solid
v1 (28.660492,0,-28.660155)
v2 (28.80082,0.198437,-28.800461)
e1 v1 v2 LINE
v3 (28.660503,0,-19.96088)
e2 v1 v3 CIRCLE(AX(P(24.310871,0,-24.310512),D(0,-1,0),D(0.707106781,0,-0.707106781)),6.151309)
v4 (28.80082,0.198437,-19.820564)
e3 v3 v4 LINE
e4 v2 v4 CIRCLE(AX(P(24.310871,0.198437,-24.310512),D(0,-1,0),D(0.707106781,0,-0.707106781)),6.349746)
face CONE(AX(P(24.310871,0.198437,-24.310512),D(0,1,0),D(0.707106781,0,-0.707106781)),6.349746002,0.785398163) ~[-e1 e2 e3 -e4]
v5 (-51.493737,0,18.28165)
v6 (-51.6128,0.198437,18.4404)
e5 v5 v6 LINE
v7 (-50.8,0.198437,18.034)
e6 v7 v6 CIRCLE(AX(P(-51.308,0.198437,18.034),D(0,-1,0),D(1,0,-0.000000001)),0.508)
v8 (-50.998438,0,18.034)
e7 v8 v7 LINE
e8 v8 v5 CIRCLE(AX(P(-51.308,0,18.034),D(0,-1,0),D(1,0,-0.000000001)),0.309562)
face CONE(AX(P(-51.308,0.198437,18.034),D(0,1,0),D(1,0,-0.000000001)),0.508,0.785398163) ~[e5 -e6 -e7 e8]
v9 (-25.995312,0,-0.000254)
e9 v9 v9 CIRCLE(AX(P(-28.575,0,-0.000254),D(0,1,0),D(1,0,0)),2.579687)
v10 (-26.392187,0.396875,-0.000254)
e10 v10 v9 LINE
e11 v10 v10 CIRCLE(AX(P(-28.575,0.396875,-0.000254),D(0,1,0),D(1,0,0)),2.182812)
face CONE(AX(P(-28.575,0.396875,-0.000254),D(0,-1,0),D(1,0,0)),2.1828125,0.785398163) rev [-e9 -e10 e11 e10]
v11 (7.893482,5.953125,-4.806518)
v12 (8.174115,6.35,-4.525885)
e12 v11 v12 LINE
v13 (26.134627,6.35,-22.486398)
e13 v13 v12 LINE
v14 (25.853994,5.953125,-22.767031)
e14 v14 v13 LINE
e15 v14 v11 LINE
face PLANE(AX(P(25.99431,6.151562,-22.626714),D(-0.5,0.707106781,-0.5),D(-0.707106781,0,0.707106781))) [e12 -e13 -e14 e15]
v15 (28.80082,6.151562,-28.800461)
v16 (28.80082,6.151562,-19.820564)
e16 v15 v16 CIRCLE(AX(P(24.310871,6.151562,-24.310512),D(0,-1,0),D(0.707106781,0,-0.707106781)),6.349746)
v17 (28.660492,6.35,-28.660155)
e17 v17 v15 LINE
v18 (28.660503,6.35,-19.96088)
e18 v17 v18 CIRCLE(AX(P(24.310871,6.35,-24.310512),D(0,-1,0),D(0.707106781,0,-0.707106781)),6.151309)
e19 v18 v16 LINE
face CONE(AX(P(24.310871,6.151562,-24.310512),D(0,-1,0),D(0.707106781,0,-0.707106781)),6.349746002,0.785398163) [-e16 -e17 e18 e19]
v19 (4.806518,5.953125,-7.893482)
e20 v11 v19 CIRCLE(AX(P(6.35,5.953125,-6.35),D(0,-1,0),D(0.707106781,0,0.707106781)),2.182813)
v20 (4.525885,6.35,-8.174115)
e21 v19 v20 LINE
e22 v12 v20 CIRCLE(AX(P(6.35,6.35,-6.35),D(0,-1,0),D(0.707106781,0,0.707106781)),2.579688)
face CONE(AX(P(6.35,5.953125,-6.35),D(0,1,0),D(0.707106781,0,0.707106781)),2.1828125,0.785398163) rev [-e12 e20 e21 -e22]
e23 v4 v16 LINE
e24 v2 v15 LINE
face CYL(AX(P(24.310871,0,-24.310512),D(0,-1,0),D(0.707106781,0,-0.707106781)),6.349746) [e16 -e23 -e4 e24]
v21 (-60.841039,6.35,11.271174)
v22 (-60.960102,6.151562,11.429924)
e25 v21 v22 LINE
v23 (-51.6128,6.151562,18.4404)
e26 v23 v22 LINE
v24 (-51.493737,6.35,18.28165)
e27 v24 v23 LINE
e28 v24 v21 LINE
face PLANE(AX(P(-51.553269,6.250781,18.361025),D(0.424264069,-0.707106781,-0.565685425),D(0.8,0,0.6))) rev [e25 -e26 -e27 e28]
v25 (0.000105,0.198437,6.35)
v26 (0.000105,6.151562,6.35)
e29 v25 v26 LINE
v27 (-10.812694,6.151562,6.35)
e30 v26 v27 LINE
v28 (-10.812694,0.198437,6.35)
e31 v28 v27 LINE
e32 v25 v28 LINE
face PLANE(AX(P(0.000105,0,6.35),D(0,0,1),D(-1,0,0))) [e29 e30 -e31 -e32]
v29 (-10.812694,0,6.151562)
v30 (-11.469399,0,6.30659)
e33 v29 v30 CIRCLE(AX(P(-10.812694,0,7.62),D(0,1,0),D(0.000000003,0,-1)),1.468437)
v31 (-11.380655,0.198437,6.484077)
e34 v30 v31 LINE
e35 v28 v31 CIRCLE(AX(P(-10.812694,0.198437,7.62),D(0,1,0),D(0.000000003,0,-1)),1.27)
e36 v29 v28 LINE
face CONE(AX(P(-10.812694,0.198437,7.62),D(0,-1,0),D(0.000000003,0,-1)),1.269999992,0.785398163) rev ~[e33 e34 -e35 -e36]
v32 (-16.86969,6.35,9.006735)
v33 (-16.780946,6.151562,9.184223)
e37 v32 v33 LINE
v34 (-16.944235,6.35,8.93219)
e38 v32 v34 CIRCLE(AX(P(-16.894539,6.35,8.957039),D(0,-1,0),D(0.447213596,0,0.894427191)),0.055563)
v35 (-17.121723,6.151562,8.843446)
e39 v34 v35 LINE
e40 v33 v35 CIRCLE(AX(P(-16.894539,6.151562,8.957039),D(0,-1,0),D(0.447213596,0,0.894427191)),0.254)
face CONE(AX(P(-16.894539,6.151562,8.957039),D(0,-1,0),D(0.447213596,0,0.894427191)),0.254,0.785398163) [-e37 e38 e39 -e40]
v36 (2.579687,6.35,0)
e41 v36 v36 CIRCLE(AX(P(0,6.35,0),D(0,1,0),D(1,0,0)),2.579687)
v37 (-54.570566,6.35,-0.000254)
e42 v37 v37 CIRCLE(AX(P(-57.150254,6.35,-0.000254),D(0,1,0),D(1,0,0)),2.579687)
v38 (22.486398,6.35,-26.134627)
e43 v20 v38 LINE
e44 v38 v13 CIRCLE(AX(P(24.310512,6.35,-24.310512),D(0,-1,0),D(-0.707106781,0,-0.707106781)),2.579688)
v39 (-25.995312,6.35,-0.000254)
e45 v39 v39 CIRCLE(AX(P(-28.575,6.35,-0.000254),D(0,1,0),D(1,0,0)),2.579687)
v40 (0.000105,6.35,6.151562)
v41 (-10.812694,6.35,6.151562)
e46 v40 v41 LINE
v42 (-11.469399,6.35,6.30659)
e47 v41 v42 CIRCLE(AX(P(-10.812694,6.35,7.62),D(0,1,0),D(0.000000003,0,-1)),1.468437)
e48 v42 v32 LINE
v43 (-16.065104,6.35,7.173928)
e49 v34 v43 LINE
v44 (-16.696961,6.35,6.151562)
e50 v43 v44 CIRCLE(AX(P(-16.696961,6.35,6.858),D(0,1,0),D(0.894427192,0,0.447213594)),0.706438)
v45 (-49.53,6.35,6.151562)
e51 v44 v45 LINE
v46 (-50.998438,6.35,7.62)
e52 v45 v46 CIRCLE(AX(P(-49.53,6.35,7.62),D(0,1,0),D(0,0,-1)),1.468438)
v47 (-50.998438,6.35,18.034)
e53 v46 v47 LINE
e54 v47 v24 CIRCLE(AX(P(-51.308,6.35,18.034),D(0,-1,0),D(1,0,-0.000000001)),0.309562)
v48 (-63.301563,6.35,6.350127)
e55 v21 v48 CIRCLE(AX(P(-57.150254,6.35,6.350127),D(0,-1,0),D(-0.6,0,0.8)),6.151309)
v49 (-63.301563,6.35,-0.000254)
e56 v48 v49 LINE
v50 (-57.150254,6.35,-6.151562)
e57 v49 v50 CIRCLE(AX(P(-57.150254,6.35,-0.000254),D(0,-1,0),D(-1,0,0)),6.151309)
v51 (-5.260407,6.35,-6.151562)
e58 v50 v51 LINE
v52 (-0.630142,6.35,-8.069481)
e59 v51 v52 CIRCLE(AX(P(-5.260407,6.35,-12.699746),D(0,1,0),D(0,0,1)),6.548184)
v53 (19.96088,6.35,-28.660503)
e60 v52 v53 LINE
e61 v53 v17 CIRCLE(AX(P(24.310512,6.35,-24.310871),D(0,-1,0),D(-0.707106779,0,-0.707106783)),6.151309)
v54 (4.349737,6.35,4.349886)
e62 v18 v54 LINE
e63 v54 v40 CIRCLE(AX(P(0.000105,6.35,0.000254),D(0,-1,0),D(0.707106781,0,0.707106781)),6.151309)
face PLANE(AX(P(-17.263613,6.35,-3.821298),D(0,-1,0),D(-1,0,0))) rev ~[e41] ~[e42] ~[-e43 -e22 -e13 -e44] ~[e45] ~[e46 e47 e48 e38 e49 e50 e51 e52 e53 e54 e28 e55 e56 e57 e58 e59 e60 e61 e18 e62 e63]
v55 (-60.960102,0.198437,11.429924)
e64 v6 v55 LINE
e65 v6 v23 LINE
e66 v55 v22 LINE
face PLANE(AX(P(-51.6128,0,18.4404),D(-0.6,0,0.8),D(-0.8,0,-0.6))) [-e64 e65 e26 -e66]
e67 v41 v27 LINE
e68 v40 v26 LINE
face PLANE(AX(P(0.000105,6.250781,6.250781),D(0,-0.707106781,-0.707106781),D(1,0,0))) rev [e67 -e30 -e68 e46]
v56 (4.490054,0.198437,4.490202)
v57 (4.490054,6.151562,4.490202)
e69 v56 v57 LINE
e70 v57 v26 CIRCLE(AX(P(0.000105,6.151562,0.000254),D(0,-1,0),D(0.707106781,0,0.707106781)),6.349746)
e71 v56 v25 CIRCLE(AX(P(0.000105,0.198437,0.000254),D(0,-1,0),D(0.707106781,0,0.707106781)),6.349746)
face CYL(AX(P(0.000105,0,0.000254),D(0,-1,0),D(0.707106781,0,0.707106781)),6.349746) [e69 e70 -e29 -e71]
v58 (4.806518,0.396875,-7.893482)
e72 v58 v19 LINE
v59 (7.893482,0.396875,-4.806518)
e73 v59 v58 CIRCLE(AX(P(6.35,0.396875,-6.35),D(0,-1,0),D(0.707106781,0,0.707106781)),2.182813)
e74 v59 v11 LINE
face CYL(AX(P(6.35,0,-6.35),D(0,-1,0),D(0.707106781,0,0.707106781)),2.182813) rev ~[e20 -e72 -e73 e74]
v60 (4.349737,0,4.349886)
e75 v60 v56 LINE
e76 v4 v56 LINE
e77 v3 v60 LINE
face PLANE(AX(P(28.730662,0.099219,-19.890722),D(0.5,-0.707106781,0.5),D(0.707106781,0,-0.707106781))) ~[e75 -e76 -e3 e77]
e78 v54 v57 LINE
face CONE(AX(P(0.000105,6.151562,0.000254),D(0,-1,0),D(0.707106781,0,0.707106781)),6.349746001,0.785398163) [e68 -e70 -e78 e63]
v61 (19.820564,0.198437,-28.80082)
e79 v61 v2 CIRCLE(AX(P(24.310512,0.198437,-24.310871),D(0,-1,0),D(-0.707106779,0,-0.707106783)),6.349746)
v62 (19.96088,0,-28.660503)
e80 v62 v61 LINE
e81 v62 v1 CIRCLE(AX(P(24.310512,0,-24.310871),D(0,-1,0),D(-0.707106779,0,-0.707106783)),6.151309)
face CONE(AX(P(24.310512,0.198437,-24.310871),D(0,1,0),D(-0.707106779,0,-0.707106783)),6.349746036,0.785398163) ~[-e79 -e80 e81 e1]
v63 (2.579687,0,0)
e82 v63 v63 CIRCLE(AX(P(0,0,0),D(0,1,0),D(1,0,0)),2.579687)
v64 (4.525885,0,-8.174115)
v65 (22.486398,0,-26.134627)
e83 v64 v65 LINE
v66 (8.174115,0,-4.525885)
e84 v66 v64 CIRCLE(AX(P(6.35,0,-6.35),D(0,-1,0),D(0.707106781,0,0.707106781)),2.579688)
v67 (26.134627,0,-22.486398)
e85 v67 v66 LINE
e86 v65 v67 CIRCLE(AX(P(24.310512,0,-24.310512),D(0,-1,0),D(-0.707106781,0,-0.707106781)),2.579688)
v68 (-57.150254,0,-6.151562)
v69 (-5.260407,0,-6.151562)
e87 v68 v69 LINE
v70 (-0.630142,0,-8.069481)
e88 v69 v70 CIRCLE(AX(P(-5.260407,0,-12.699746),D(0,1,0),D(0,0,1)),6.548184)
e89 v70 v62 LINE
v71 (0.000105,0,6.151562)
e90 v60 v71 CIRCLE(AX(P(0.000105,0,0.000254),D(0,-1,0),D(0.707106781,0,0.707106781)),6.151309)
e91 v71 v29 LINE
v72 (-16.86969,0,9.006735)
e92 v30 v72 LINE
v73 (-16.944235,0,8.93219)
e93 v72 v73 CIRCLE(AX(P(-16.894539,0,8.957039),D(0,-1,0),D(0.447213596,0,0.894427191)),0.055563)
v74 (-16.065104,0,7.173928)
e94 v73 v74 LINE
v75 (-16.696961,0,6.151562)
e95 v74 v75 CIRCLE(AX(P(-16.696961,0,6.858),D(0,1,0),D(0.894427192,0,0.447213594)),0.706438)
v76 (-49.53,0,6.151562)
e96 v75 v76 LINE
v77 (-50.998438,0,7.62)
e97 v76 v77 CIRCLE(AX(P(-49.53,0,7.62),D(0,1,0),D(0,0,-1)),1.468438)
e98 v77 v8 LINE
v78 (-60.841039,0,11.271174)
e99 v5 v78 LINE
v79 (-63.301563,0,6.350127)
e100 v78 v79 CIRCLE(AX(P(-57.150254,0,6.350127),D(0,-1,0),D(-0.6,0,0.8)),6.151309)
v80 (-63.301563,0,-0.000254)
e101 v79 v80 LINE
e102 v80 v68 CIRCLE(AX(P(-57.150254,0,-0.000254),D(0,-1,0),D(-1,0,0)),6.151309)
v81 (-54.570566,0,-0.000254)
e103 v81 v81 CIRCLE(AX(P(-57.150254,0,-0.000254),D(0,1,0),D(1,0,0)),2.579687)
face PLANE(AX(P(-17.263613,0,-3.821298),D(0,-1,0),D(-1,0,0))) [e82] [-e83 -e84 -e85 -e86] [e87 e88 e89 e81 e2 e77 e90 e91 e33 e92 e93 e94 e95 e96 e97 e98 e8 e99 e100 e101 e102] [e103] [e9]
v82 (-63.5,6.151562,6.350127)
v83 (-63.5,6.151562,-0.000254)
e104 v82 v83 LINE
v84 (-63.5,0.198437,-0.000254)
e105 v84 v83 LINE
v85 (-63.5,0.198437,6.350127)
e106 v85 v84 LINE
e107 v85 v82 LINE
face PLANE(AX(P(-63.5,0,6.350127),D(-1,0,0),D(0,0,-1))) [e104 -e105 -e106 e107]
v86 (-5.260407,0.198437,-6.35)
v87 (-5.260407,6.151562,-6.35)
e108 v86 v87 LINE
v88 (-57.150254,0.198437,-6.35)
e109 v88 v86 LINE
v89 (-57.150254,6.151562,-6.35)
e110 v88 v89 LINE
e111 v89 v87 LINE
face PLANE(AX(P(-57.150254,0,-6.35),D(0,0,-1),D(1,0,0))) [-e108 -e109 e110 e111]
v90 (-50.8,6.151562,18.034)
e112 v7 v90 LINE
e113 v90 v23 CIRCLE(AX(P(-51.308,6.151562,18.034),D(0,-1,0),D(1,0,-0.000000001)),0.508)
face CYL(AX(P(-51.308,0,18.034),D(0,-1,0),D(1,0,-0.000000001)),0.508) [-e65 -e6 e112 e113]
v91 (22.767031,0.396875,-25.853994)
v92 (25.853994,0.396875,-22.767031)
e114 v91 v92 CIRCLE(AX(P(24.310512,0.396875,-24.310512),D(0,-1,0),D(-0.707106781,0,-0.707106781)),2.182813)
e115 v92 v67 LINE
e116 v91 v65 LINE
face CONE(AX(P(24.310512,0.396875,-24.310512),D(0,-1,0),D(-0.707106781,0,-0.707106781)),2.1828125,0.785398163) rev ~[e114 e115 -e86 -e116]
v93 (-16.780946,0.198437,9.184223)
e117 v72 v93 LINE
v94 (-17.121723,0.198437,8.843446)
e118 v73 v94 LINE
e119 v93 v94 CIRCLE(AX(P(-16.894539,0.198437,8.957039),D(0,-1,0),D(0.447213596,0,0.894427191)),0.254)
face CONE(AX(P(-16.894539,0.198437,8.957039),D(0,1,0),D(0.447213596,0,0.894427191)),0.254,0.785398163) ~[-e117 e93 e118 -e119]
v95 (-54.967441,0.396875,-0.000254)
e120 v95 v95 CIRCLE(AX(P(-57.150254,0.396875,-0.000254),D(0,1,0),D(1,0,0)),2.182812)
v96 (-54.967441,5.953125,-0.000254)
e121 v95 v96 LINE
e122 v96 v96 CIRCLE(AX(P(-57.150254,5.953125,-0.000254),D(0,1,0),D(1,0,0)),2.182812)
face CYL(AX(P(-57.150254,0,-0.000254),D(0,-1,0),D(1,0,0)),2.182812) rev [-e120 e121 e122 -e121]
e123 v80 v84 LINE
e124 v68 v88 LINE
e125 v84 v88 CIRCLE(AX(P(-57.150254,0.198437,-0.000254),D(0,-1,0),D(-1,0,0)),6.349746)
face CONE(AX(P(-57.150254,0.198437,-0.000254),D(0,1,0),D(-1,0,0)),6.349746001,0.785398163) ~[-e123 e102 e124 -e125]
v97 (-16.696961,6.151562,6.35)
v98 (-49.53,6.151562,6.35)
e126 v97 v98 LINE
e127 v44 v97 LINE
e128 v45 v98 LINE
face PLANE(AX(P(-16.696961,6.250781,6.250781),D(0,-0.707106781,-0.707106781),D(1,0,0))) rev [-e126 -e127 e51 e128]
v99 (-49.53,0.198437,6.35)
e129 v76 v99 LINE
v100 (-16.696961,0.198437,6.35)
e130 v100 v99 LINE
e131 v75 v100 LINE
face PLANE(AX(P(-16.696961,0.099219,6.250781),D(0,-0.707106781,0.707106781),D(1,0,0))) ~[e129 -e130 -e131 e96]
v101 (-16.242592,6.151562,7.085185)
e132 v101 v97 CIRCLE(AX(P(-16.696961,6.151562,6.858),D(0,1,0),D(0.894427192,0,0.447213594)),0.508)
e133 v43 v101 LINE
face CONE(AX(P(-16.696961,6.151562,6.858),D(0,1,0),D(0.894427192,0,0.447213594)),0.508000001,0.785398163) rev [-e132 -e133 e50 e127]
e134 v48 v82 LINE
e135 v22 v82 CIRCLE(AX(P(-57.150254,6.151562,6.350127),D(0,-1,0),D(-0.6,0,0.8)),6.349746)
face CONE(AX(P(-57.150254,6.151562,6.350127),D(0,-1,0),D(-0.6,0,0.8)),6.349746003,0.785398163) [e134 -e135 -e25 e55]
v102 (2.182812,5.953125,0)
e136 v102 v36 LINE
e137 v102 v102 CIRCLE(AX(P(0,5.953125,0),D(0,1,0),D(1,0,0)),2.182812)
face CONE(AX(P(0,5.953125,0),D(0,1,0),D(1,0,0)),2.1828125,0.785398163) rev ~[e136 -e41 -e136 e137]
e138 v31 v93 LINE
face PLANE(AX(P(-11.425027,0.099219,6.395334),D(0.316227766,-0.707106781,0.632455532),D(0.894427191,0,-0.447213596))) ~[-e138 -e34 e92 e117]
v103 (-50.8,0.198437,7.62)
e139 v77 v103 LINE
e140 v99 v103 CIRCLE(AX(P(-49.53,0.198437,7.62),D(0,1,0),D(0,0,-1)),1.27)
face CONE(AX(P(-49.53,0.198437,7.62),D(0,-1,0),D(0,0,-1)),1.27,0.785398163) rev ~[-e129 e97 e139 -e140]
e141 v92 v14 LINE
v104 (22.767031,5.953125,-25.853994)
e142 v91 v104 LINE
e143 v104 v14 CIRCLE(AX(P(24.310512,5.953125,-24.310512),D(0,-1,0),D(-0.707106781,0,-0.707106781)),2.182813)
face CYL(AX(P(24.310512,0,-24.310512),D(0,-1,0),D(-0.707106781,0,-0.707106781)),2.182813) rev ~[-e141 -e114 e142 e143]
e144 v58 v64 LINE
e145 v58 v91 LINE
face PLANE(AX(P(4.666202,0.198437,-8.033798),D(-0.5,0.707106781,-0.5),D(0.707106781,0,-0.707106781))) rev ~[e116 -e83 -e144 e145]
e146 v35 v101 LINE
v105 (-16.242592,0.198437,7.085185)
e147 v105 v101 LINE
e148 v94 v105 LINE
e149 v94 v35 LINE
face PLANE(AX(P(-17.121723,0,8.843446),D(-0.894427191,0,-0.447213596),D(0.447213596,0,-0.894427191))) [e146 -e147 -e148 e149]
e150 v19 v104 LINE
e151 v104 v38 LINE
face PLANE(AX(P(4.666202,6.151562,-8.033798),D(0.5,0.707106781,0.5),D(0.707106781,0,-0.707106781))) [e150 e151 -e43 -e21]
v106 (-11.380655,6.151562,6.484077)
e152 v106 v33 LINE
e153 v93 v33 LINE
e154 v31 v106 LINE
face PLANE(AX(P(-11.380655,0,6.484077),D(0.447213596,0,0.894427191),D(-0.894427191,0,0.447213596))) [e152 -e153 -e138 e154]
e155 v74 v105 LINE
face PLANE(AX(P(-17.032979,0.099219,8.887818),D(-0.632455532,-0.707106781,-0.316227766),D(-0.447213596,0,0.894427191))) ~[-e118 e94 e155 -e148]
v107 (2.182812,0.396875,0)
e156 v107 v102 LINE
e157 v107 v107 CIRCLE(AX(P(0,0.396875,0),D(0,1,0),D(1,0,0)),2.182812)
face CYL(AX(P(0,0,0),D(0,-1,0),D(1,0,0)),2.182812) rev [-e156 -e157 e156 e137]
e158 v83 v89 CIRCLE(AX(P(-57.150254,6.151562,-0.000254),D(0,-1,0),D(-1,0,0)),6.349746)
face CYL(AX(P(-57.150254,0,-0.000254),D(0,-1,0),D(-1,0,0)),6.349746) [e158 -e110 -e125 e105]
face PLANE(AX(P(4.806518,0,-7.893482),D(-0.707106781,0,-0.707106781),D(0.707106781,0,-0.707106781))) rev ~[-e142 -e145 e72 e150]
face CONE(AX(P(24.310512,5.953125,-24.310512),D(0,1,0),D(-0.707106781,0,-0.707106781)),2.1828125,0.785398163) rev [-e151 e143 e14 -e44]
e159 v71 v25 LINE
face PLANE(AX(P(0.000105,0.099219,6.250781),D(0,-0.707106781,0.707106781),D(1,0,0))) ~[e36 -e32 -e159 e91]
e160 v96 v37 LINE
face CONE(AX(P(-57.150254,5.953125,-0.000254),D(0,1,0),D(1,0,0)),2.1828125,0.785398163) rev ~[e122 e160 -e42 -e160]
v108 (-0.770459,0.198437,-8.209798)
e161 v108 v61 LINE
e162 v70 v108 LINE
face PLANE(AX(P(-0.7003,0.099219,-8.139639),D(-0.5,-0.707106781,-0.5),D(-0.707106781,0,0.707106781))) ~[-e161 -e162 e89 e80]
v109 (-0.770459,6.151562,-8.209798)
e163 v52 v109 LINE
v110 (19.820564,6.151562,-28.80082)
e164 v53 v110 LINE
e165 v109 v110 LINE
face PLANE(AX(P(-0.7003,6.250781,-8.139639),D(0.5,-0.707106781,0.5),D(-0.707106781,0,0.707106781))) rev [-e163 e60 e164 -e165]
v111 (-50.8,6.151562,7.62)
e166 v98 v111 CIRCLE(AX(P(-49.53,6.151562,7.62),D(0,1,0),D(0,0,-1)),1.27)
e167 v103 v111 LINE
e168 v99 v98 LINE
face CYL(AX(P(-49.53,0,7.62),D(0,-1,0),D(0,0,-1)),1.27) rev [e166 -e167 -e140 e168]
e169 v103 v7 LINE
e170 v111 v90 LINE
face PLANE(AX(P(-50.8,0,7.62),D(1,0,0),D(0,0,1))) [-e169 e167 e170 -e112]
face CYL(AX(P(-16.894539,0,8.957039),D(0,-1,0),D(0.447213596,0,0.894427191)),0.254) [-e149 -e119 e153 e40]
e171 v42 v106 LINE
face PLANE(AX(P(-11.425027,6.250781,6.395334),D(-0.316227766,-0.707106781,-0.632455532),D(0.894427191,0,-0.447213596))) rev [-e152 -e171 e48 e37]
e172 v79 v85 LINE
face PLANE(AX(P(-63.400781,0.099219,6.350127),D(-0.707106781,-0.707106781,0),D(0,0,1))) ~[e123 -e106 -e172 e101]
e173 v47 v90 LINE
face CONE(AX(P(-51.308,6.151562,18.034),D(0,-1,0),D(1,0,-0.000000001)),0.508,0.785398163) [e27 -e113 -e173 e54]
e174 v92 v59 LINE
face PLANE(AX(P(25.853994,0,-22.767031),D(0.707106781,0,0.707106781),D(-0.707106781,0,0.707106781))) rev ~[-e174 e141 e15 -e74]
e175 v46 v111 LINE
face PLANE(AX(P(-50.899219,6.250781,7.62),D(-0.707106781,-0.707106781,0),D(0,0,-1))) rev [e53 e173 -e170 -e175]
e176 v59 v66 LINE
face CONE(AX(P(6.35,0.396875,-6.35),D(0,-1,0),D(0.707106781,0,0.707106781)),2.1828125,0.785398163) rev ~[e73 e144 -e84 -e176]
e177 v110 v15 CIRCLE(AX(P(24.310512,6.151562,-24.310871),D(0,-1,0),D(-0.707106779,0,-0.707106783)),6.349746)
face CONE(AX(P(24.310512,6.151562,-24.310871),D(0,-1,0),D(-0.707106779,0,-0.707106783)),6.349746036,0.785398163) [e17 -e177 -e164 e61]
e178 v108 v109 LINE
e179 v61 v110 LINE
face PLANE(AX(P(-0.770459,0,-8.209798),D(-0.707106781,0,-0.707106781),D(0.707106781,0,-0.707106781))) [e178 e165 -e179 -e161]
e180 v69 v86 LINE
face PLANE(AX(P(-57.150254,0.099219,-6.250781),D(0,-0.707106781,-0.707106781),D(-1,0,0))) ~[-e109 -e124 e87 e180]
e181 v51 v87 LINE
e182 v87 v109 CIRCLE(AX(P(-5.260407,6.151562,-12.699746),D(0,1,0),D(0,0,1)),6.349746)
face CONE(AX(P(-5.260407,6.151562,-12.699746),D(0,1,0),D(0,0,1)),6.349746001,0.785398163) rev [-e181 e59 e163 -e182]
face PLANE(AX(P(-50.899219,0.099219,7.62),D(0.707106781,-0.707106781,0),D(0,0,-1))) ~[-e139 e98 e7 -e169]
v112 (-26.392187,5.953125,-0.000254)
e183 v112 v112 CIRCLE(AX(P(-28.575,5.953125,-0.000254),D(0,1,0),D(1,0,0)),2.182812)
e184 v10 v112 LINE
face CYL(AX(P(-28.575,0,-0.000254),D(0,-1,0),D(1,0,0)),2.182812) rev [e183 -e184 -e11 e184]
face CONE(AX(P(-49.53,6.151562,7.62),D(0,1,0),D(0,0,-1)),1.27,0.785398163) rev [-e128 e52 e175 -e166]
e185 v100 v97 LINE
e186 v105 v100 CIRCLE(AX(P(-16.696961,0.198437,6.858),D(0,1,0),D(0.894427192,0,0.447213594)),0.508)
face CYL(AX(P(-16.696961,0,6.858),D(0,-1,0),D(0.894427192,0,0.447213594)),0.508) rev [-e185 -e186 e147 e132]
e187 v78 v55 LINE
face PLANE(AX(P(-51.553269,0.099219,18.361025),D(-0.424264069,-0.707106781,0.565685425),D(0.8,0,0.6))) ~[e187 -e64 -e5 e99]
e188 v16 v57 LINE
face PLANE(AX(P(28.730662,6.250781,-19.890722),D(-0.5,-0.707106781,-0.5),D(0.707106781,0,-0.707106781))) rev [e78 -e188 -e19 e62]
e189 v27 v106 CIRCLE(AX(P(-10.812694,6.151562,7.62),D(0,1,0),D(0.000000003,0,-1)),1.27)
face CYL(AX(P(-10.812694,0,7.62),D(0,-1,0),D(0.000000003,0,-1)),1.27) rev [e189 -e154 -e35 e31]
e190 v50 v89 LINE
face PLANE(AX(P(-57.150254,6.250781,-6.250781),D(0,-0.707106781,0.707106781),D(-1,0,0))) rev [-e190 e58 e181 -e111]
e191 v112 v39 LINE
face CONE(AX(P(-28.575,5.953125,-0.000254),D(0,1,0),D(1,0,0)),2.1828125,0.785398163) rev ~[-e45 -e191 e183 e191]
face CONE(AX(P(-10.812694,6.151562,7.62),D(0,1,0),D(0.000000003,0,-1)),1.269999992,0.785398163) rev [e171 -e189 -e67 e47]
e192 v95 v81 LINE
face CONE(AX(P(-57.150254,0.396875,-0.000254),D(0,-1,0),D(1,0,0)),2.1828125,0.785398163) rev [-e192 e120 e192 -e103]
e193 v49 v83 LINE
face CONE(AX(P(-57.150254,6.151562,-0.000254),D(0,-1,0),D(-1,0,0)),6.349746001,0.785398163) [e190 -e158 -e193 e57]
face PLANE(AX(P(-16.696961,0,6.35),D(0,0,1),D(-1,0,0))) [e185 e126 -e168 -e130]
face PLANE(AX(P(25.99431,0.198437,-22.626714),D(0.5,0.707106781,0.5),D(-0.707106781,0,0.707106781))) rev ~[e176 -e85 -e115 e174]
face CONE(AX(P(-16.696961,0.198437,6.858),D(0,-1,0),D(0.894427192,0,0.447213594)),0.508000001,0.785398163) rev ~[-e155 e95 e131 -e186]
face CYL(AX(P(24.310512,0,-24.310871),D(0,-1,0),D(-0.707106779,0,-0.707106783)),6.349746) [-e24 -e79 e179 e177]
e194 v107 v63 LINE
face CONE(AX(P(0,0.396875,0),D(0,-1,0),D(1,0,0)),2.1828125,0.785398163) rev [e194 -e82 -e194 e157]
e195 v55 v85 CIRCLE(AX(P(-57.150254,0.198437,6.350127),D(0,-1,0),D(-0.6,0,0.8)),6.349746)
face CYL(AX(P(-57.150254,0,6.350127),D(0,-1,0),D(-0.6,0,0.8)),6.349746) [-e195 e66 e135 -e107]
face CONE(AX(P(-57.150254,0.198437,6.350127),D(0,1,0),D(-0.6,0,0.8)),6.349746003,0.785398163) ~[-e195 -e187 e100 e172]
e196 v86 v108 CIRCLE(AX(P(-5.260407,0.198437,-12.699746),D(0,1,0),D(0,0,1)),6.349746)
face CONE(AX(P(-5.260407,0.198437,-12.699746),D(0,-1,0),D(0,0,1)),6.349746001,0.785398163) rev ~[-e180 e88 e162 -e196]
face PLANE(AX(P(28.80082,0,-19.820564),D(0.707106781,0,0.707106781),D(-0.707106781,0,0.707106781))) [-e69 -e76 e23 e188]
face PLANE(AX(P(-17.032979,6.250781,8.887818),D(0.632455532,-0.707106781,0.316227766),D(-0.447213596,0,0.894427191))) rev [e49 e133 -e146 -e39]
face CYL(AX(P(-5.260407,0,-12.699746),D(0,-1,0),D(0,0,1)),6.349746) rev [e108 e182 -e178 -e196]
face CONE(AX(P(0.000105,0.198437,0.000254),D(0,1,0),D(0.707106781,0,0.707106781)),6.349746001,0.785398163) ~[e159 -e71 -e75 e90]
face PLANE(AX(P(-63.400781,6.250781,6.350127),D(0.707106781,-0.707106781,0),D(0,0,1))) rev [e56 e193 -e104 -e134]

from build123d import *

# Parameters (mm, degrees)
SKETCH1_R           = 2.1828125
BOSS_EXTRUDE1_DEPTH = 6.35
CHAMFER2_SIZE       = 0.396875
CHAMFER3_SIZE       = 0.1984375


with BuildPart() as part:
    # Sketch1 → Boss-Extrude1 (new body)
    with BuildSketch(Plane(origin=(0, 0, 0), x_dir=(1, 0, 0), z_dir=(0, 1, 0))):
        with BuildLine():
            Line((-50.8, -7.62), (-50.8, -18.034))
            ThreePointArc((-50.8, -18.034), (-51.080815493, -18.488369013), (-51.6128, -18.4404))
            Line((-51.6128, -18.4404), (-60.9601016, -11.4299238))
            ThreePointArc((-60.9601016, -11.4299238), (-62.829639478, -9.189819739), (-63.5, -6.350127))
            Line((-63.5, -6.350127), (-63.5, 0.000254))
            ThreePointArc((-63.5, 0.000254), (-61.640202455, 4.490202455), (-57.150254, 6.35))
            Line((-57.150254, 6.35), (-5.260407032, 6.35))
            ThreePointArc((-5.260407032, 6.35), (-2.830464438, 6.833345634), (-0.770458576, 8.209797545))
            Line((-0.770458576, 8.209797545), (19.820563787, 28.800819908))
            ThreePointArc((19.820563787, 28.800819908), (24.310512242, 30.660617452), (28.800819908, 28.800460698))
            ThreePointArc((28.800819908, 28.800460698), (30.660617452, 24.310512242), (28.800819908, 19.820563787))
            Line((28.800819908, 19.820563787), (4.490053666, -4.490202455))
            ThreePointArc((4.490053666, -4.490202455), (2.430047804, -5.866654366), (0.00010521, -6.35))
            Line((0.00010521, -6.35), (-10.812693667, -6.35))
            ThreePointArc((-10.812693667, -6.35), (-11.104479877, -6.383973783), (-11.380654934, -6.484077467))
            Line((-11.380654934, -6.484077467), (-16.780946479, -9.18422324))
            ThreePointArc((-16.780946479, -9.18422324), (-17.074143855, -9.136643856), (-17.121723239, -8.84344648))
            Line((-17.121723239, -8.84344648), (-16.242592252, -7.085184507))
            ThreePointArc((-16.242592252, -7.085184507), (-16.264830655, -6.590928595), (-16.696961265, -6.35))
            Line((-16.696961265, -6.35), (-49.53, -6.35))
            ThreePointArc((-49.53, -6.35), (-50.428025612, -6.721974388), (-50.8, -7.62))
        make_face()
        Circle(SKETCH1_R, mode=Mode.SUBTRACT)
        with Locations((-57.150254, 0.000254)):
            Circle(SKETCH1_R, mode=Mode.SUBTRACT)
        with Locations((-28.574999999, 0.000254)):
            Circle(SKETCH1_R, mode=Mode.SUBTRACT)
        with BuildLine():
            Line((4.806518479, 7.893481521), (22.767030721, 25.853993763))
            ThreePointArc((22.767030721, 25.853993763), (25.853993763, 25.853993763), (25.853993763, 22.767030721))
            Line((25.853993763, 22.767030721), (7.893481521, 4.806518479))
            ThreePointArc((7.893481521, 4.806518479), (4.806518479, 4.806518479), (4.806518479, 7.893481521))
        make_face(mode=Mode.SUBTRACT)
    extrude(amount=BOSS_EXTRUDE1_DEPTH)

    # Chamfer2
    chamfer2_edges = [part.edges().sort_by_distance(p)[0] for p in [
        (-2.1828125, 0, 0),
        (-2.1828125, 6.35, 0),
        (4.806518479, 0, -4.806518479),
        (16.873737642, 0, -13.7867746),
        (25.853993763, 0, -25.853993763),
        (13.7867746, 0, -16.873737642),
        (4.806518479, 6.35, -4.806518479),
        (16.873737642, 6.35, -13.7867746),
        (25.853993763, 6.35, -25.853993763),
        (13.7867746, 6.35, -16.873737642),
        (-59.3330665, 0, -0.000254),
        (-59.3330665, 6.35, -0.000254),
        (-30.757812499, 0, -0.000254),
        (-30.757812499, 6.35, -0.000254),
    ]]
    chamfer(chamfer2_edges, length=CHAMFER2_SIZE)

    # Chamfer3
    chamfer3_edges = [part.edges().sort_by_distance(p)[0] for p in [
        (-2.830464438, 6.35, -6.833345634),
        (-31.205330516, 6.35, -6.35),
        (-61.640202455, 6.35, -4.490202455),
        (24.310766246, 0, -30.660617447),
        (30.660617452, 0, -24.310512242),
        (16.645436787, 0, -7.665180666),
        (2.430047804, 0, 5.866654366),
        (-5.406294229, 0, 6.35),
        (-11.104479877, 0, 6.383973783),
        (-14.080800707, 0, 7.834150354),
        (-17.074143855, 0, 9.136643856),
        (-16.682157746, 0, 7.964315493),
        (-16.264830655, 0, 6.590928595),
        (-63.5, 6.35, 3.1749365),
        (-33.113480633, 0, 6.35),
        (-50.428025612, 0, 6.721974388),
        (-50.8, 0, 12.827),
        (-51.080815493, 0, 18.488369013),
        (-56.2864508, 0, 14.9351619),
        (-62.829639478, 0, 9.189819739),
        (-63.5, 0, 3.1749365),
        (-61.640202455, 0, -4.490202455),
        (-31.205330516, 0, -6.35),
        (-2.830464438, 0, -6.833345634),
        (-62.829639478, 6.35, 9.189819739),
        (9.525052605, 0, -18.505308726),
        (24.310766246, 0, -30.660617447),
        (-56.2864508, 6.35, 14.9351619),
        (-51.080815493, 6.35, 18.488369013),
        (-50.8, 6.35, 12.827),
        (-50.428025612, 6.35, 6.721974388),
        (-33.113480633, 6.35, 6.35),
        (24.310766246, 6.35, -30.660617447),
        (-16.264830655, 6.35, 6.590928595),
        (-16.682157746, 6.35, 7.964315493),
        (-17.074143855, 6.35, 9.136643856),
        (-14.080800707, 6.35, 7.834150354),
        (-11.104479877, 6.35, 6.383973783),
        (-5.406294229, 6.35, 6.35),
        (2.430047804, 6.35, 5.866654366),
        (16.645436787, 6.35, -7.665180666),
        (30.660617452, 6.35, -24.310512242),
        (24.310766246, 6.35, -30.660617447),
        (9.525052605, 6.35, -18.505308726),
    ]]
    chamfer(chamfer3_edges, length=CHAMFER3_SIZE)


solid = part.part
